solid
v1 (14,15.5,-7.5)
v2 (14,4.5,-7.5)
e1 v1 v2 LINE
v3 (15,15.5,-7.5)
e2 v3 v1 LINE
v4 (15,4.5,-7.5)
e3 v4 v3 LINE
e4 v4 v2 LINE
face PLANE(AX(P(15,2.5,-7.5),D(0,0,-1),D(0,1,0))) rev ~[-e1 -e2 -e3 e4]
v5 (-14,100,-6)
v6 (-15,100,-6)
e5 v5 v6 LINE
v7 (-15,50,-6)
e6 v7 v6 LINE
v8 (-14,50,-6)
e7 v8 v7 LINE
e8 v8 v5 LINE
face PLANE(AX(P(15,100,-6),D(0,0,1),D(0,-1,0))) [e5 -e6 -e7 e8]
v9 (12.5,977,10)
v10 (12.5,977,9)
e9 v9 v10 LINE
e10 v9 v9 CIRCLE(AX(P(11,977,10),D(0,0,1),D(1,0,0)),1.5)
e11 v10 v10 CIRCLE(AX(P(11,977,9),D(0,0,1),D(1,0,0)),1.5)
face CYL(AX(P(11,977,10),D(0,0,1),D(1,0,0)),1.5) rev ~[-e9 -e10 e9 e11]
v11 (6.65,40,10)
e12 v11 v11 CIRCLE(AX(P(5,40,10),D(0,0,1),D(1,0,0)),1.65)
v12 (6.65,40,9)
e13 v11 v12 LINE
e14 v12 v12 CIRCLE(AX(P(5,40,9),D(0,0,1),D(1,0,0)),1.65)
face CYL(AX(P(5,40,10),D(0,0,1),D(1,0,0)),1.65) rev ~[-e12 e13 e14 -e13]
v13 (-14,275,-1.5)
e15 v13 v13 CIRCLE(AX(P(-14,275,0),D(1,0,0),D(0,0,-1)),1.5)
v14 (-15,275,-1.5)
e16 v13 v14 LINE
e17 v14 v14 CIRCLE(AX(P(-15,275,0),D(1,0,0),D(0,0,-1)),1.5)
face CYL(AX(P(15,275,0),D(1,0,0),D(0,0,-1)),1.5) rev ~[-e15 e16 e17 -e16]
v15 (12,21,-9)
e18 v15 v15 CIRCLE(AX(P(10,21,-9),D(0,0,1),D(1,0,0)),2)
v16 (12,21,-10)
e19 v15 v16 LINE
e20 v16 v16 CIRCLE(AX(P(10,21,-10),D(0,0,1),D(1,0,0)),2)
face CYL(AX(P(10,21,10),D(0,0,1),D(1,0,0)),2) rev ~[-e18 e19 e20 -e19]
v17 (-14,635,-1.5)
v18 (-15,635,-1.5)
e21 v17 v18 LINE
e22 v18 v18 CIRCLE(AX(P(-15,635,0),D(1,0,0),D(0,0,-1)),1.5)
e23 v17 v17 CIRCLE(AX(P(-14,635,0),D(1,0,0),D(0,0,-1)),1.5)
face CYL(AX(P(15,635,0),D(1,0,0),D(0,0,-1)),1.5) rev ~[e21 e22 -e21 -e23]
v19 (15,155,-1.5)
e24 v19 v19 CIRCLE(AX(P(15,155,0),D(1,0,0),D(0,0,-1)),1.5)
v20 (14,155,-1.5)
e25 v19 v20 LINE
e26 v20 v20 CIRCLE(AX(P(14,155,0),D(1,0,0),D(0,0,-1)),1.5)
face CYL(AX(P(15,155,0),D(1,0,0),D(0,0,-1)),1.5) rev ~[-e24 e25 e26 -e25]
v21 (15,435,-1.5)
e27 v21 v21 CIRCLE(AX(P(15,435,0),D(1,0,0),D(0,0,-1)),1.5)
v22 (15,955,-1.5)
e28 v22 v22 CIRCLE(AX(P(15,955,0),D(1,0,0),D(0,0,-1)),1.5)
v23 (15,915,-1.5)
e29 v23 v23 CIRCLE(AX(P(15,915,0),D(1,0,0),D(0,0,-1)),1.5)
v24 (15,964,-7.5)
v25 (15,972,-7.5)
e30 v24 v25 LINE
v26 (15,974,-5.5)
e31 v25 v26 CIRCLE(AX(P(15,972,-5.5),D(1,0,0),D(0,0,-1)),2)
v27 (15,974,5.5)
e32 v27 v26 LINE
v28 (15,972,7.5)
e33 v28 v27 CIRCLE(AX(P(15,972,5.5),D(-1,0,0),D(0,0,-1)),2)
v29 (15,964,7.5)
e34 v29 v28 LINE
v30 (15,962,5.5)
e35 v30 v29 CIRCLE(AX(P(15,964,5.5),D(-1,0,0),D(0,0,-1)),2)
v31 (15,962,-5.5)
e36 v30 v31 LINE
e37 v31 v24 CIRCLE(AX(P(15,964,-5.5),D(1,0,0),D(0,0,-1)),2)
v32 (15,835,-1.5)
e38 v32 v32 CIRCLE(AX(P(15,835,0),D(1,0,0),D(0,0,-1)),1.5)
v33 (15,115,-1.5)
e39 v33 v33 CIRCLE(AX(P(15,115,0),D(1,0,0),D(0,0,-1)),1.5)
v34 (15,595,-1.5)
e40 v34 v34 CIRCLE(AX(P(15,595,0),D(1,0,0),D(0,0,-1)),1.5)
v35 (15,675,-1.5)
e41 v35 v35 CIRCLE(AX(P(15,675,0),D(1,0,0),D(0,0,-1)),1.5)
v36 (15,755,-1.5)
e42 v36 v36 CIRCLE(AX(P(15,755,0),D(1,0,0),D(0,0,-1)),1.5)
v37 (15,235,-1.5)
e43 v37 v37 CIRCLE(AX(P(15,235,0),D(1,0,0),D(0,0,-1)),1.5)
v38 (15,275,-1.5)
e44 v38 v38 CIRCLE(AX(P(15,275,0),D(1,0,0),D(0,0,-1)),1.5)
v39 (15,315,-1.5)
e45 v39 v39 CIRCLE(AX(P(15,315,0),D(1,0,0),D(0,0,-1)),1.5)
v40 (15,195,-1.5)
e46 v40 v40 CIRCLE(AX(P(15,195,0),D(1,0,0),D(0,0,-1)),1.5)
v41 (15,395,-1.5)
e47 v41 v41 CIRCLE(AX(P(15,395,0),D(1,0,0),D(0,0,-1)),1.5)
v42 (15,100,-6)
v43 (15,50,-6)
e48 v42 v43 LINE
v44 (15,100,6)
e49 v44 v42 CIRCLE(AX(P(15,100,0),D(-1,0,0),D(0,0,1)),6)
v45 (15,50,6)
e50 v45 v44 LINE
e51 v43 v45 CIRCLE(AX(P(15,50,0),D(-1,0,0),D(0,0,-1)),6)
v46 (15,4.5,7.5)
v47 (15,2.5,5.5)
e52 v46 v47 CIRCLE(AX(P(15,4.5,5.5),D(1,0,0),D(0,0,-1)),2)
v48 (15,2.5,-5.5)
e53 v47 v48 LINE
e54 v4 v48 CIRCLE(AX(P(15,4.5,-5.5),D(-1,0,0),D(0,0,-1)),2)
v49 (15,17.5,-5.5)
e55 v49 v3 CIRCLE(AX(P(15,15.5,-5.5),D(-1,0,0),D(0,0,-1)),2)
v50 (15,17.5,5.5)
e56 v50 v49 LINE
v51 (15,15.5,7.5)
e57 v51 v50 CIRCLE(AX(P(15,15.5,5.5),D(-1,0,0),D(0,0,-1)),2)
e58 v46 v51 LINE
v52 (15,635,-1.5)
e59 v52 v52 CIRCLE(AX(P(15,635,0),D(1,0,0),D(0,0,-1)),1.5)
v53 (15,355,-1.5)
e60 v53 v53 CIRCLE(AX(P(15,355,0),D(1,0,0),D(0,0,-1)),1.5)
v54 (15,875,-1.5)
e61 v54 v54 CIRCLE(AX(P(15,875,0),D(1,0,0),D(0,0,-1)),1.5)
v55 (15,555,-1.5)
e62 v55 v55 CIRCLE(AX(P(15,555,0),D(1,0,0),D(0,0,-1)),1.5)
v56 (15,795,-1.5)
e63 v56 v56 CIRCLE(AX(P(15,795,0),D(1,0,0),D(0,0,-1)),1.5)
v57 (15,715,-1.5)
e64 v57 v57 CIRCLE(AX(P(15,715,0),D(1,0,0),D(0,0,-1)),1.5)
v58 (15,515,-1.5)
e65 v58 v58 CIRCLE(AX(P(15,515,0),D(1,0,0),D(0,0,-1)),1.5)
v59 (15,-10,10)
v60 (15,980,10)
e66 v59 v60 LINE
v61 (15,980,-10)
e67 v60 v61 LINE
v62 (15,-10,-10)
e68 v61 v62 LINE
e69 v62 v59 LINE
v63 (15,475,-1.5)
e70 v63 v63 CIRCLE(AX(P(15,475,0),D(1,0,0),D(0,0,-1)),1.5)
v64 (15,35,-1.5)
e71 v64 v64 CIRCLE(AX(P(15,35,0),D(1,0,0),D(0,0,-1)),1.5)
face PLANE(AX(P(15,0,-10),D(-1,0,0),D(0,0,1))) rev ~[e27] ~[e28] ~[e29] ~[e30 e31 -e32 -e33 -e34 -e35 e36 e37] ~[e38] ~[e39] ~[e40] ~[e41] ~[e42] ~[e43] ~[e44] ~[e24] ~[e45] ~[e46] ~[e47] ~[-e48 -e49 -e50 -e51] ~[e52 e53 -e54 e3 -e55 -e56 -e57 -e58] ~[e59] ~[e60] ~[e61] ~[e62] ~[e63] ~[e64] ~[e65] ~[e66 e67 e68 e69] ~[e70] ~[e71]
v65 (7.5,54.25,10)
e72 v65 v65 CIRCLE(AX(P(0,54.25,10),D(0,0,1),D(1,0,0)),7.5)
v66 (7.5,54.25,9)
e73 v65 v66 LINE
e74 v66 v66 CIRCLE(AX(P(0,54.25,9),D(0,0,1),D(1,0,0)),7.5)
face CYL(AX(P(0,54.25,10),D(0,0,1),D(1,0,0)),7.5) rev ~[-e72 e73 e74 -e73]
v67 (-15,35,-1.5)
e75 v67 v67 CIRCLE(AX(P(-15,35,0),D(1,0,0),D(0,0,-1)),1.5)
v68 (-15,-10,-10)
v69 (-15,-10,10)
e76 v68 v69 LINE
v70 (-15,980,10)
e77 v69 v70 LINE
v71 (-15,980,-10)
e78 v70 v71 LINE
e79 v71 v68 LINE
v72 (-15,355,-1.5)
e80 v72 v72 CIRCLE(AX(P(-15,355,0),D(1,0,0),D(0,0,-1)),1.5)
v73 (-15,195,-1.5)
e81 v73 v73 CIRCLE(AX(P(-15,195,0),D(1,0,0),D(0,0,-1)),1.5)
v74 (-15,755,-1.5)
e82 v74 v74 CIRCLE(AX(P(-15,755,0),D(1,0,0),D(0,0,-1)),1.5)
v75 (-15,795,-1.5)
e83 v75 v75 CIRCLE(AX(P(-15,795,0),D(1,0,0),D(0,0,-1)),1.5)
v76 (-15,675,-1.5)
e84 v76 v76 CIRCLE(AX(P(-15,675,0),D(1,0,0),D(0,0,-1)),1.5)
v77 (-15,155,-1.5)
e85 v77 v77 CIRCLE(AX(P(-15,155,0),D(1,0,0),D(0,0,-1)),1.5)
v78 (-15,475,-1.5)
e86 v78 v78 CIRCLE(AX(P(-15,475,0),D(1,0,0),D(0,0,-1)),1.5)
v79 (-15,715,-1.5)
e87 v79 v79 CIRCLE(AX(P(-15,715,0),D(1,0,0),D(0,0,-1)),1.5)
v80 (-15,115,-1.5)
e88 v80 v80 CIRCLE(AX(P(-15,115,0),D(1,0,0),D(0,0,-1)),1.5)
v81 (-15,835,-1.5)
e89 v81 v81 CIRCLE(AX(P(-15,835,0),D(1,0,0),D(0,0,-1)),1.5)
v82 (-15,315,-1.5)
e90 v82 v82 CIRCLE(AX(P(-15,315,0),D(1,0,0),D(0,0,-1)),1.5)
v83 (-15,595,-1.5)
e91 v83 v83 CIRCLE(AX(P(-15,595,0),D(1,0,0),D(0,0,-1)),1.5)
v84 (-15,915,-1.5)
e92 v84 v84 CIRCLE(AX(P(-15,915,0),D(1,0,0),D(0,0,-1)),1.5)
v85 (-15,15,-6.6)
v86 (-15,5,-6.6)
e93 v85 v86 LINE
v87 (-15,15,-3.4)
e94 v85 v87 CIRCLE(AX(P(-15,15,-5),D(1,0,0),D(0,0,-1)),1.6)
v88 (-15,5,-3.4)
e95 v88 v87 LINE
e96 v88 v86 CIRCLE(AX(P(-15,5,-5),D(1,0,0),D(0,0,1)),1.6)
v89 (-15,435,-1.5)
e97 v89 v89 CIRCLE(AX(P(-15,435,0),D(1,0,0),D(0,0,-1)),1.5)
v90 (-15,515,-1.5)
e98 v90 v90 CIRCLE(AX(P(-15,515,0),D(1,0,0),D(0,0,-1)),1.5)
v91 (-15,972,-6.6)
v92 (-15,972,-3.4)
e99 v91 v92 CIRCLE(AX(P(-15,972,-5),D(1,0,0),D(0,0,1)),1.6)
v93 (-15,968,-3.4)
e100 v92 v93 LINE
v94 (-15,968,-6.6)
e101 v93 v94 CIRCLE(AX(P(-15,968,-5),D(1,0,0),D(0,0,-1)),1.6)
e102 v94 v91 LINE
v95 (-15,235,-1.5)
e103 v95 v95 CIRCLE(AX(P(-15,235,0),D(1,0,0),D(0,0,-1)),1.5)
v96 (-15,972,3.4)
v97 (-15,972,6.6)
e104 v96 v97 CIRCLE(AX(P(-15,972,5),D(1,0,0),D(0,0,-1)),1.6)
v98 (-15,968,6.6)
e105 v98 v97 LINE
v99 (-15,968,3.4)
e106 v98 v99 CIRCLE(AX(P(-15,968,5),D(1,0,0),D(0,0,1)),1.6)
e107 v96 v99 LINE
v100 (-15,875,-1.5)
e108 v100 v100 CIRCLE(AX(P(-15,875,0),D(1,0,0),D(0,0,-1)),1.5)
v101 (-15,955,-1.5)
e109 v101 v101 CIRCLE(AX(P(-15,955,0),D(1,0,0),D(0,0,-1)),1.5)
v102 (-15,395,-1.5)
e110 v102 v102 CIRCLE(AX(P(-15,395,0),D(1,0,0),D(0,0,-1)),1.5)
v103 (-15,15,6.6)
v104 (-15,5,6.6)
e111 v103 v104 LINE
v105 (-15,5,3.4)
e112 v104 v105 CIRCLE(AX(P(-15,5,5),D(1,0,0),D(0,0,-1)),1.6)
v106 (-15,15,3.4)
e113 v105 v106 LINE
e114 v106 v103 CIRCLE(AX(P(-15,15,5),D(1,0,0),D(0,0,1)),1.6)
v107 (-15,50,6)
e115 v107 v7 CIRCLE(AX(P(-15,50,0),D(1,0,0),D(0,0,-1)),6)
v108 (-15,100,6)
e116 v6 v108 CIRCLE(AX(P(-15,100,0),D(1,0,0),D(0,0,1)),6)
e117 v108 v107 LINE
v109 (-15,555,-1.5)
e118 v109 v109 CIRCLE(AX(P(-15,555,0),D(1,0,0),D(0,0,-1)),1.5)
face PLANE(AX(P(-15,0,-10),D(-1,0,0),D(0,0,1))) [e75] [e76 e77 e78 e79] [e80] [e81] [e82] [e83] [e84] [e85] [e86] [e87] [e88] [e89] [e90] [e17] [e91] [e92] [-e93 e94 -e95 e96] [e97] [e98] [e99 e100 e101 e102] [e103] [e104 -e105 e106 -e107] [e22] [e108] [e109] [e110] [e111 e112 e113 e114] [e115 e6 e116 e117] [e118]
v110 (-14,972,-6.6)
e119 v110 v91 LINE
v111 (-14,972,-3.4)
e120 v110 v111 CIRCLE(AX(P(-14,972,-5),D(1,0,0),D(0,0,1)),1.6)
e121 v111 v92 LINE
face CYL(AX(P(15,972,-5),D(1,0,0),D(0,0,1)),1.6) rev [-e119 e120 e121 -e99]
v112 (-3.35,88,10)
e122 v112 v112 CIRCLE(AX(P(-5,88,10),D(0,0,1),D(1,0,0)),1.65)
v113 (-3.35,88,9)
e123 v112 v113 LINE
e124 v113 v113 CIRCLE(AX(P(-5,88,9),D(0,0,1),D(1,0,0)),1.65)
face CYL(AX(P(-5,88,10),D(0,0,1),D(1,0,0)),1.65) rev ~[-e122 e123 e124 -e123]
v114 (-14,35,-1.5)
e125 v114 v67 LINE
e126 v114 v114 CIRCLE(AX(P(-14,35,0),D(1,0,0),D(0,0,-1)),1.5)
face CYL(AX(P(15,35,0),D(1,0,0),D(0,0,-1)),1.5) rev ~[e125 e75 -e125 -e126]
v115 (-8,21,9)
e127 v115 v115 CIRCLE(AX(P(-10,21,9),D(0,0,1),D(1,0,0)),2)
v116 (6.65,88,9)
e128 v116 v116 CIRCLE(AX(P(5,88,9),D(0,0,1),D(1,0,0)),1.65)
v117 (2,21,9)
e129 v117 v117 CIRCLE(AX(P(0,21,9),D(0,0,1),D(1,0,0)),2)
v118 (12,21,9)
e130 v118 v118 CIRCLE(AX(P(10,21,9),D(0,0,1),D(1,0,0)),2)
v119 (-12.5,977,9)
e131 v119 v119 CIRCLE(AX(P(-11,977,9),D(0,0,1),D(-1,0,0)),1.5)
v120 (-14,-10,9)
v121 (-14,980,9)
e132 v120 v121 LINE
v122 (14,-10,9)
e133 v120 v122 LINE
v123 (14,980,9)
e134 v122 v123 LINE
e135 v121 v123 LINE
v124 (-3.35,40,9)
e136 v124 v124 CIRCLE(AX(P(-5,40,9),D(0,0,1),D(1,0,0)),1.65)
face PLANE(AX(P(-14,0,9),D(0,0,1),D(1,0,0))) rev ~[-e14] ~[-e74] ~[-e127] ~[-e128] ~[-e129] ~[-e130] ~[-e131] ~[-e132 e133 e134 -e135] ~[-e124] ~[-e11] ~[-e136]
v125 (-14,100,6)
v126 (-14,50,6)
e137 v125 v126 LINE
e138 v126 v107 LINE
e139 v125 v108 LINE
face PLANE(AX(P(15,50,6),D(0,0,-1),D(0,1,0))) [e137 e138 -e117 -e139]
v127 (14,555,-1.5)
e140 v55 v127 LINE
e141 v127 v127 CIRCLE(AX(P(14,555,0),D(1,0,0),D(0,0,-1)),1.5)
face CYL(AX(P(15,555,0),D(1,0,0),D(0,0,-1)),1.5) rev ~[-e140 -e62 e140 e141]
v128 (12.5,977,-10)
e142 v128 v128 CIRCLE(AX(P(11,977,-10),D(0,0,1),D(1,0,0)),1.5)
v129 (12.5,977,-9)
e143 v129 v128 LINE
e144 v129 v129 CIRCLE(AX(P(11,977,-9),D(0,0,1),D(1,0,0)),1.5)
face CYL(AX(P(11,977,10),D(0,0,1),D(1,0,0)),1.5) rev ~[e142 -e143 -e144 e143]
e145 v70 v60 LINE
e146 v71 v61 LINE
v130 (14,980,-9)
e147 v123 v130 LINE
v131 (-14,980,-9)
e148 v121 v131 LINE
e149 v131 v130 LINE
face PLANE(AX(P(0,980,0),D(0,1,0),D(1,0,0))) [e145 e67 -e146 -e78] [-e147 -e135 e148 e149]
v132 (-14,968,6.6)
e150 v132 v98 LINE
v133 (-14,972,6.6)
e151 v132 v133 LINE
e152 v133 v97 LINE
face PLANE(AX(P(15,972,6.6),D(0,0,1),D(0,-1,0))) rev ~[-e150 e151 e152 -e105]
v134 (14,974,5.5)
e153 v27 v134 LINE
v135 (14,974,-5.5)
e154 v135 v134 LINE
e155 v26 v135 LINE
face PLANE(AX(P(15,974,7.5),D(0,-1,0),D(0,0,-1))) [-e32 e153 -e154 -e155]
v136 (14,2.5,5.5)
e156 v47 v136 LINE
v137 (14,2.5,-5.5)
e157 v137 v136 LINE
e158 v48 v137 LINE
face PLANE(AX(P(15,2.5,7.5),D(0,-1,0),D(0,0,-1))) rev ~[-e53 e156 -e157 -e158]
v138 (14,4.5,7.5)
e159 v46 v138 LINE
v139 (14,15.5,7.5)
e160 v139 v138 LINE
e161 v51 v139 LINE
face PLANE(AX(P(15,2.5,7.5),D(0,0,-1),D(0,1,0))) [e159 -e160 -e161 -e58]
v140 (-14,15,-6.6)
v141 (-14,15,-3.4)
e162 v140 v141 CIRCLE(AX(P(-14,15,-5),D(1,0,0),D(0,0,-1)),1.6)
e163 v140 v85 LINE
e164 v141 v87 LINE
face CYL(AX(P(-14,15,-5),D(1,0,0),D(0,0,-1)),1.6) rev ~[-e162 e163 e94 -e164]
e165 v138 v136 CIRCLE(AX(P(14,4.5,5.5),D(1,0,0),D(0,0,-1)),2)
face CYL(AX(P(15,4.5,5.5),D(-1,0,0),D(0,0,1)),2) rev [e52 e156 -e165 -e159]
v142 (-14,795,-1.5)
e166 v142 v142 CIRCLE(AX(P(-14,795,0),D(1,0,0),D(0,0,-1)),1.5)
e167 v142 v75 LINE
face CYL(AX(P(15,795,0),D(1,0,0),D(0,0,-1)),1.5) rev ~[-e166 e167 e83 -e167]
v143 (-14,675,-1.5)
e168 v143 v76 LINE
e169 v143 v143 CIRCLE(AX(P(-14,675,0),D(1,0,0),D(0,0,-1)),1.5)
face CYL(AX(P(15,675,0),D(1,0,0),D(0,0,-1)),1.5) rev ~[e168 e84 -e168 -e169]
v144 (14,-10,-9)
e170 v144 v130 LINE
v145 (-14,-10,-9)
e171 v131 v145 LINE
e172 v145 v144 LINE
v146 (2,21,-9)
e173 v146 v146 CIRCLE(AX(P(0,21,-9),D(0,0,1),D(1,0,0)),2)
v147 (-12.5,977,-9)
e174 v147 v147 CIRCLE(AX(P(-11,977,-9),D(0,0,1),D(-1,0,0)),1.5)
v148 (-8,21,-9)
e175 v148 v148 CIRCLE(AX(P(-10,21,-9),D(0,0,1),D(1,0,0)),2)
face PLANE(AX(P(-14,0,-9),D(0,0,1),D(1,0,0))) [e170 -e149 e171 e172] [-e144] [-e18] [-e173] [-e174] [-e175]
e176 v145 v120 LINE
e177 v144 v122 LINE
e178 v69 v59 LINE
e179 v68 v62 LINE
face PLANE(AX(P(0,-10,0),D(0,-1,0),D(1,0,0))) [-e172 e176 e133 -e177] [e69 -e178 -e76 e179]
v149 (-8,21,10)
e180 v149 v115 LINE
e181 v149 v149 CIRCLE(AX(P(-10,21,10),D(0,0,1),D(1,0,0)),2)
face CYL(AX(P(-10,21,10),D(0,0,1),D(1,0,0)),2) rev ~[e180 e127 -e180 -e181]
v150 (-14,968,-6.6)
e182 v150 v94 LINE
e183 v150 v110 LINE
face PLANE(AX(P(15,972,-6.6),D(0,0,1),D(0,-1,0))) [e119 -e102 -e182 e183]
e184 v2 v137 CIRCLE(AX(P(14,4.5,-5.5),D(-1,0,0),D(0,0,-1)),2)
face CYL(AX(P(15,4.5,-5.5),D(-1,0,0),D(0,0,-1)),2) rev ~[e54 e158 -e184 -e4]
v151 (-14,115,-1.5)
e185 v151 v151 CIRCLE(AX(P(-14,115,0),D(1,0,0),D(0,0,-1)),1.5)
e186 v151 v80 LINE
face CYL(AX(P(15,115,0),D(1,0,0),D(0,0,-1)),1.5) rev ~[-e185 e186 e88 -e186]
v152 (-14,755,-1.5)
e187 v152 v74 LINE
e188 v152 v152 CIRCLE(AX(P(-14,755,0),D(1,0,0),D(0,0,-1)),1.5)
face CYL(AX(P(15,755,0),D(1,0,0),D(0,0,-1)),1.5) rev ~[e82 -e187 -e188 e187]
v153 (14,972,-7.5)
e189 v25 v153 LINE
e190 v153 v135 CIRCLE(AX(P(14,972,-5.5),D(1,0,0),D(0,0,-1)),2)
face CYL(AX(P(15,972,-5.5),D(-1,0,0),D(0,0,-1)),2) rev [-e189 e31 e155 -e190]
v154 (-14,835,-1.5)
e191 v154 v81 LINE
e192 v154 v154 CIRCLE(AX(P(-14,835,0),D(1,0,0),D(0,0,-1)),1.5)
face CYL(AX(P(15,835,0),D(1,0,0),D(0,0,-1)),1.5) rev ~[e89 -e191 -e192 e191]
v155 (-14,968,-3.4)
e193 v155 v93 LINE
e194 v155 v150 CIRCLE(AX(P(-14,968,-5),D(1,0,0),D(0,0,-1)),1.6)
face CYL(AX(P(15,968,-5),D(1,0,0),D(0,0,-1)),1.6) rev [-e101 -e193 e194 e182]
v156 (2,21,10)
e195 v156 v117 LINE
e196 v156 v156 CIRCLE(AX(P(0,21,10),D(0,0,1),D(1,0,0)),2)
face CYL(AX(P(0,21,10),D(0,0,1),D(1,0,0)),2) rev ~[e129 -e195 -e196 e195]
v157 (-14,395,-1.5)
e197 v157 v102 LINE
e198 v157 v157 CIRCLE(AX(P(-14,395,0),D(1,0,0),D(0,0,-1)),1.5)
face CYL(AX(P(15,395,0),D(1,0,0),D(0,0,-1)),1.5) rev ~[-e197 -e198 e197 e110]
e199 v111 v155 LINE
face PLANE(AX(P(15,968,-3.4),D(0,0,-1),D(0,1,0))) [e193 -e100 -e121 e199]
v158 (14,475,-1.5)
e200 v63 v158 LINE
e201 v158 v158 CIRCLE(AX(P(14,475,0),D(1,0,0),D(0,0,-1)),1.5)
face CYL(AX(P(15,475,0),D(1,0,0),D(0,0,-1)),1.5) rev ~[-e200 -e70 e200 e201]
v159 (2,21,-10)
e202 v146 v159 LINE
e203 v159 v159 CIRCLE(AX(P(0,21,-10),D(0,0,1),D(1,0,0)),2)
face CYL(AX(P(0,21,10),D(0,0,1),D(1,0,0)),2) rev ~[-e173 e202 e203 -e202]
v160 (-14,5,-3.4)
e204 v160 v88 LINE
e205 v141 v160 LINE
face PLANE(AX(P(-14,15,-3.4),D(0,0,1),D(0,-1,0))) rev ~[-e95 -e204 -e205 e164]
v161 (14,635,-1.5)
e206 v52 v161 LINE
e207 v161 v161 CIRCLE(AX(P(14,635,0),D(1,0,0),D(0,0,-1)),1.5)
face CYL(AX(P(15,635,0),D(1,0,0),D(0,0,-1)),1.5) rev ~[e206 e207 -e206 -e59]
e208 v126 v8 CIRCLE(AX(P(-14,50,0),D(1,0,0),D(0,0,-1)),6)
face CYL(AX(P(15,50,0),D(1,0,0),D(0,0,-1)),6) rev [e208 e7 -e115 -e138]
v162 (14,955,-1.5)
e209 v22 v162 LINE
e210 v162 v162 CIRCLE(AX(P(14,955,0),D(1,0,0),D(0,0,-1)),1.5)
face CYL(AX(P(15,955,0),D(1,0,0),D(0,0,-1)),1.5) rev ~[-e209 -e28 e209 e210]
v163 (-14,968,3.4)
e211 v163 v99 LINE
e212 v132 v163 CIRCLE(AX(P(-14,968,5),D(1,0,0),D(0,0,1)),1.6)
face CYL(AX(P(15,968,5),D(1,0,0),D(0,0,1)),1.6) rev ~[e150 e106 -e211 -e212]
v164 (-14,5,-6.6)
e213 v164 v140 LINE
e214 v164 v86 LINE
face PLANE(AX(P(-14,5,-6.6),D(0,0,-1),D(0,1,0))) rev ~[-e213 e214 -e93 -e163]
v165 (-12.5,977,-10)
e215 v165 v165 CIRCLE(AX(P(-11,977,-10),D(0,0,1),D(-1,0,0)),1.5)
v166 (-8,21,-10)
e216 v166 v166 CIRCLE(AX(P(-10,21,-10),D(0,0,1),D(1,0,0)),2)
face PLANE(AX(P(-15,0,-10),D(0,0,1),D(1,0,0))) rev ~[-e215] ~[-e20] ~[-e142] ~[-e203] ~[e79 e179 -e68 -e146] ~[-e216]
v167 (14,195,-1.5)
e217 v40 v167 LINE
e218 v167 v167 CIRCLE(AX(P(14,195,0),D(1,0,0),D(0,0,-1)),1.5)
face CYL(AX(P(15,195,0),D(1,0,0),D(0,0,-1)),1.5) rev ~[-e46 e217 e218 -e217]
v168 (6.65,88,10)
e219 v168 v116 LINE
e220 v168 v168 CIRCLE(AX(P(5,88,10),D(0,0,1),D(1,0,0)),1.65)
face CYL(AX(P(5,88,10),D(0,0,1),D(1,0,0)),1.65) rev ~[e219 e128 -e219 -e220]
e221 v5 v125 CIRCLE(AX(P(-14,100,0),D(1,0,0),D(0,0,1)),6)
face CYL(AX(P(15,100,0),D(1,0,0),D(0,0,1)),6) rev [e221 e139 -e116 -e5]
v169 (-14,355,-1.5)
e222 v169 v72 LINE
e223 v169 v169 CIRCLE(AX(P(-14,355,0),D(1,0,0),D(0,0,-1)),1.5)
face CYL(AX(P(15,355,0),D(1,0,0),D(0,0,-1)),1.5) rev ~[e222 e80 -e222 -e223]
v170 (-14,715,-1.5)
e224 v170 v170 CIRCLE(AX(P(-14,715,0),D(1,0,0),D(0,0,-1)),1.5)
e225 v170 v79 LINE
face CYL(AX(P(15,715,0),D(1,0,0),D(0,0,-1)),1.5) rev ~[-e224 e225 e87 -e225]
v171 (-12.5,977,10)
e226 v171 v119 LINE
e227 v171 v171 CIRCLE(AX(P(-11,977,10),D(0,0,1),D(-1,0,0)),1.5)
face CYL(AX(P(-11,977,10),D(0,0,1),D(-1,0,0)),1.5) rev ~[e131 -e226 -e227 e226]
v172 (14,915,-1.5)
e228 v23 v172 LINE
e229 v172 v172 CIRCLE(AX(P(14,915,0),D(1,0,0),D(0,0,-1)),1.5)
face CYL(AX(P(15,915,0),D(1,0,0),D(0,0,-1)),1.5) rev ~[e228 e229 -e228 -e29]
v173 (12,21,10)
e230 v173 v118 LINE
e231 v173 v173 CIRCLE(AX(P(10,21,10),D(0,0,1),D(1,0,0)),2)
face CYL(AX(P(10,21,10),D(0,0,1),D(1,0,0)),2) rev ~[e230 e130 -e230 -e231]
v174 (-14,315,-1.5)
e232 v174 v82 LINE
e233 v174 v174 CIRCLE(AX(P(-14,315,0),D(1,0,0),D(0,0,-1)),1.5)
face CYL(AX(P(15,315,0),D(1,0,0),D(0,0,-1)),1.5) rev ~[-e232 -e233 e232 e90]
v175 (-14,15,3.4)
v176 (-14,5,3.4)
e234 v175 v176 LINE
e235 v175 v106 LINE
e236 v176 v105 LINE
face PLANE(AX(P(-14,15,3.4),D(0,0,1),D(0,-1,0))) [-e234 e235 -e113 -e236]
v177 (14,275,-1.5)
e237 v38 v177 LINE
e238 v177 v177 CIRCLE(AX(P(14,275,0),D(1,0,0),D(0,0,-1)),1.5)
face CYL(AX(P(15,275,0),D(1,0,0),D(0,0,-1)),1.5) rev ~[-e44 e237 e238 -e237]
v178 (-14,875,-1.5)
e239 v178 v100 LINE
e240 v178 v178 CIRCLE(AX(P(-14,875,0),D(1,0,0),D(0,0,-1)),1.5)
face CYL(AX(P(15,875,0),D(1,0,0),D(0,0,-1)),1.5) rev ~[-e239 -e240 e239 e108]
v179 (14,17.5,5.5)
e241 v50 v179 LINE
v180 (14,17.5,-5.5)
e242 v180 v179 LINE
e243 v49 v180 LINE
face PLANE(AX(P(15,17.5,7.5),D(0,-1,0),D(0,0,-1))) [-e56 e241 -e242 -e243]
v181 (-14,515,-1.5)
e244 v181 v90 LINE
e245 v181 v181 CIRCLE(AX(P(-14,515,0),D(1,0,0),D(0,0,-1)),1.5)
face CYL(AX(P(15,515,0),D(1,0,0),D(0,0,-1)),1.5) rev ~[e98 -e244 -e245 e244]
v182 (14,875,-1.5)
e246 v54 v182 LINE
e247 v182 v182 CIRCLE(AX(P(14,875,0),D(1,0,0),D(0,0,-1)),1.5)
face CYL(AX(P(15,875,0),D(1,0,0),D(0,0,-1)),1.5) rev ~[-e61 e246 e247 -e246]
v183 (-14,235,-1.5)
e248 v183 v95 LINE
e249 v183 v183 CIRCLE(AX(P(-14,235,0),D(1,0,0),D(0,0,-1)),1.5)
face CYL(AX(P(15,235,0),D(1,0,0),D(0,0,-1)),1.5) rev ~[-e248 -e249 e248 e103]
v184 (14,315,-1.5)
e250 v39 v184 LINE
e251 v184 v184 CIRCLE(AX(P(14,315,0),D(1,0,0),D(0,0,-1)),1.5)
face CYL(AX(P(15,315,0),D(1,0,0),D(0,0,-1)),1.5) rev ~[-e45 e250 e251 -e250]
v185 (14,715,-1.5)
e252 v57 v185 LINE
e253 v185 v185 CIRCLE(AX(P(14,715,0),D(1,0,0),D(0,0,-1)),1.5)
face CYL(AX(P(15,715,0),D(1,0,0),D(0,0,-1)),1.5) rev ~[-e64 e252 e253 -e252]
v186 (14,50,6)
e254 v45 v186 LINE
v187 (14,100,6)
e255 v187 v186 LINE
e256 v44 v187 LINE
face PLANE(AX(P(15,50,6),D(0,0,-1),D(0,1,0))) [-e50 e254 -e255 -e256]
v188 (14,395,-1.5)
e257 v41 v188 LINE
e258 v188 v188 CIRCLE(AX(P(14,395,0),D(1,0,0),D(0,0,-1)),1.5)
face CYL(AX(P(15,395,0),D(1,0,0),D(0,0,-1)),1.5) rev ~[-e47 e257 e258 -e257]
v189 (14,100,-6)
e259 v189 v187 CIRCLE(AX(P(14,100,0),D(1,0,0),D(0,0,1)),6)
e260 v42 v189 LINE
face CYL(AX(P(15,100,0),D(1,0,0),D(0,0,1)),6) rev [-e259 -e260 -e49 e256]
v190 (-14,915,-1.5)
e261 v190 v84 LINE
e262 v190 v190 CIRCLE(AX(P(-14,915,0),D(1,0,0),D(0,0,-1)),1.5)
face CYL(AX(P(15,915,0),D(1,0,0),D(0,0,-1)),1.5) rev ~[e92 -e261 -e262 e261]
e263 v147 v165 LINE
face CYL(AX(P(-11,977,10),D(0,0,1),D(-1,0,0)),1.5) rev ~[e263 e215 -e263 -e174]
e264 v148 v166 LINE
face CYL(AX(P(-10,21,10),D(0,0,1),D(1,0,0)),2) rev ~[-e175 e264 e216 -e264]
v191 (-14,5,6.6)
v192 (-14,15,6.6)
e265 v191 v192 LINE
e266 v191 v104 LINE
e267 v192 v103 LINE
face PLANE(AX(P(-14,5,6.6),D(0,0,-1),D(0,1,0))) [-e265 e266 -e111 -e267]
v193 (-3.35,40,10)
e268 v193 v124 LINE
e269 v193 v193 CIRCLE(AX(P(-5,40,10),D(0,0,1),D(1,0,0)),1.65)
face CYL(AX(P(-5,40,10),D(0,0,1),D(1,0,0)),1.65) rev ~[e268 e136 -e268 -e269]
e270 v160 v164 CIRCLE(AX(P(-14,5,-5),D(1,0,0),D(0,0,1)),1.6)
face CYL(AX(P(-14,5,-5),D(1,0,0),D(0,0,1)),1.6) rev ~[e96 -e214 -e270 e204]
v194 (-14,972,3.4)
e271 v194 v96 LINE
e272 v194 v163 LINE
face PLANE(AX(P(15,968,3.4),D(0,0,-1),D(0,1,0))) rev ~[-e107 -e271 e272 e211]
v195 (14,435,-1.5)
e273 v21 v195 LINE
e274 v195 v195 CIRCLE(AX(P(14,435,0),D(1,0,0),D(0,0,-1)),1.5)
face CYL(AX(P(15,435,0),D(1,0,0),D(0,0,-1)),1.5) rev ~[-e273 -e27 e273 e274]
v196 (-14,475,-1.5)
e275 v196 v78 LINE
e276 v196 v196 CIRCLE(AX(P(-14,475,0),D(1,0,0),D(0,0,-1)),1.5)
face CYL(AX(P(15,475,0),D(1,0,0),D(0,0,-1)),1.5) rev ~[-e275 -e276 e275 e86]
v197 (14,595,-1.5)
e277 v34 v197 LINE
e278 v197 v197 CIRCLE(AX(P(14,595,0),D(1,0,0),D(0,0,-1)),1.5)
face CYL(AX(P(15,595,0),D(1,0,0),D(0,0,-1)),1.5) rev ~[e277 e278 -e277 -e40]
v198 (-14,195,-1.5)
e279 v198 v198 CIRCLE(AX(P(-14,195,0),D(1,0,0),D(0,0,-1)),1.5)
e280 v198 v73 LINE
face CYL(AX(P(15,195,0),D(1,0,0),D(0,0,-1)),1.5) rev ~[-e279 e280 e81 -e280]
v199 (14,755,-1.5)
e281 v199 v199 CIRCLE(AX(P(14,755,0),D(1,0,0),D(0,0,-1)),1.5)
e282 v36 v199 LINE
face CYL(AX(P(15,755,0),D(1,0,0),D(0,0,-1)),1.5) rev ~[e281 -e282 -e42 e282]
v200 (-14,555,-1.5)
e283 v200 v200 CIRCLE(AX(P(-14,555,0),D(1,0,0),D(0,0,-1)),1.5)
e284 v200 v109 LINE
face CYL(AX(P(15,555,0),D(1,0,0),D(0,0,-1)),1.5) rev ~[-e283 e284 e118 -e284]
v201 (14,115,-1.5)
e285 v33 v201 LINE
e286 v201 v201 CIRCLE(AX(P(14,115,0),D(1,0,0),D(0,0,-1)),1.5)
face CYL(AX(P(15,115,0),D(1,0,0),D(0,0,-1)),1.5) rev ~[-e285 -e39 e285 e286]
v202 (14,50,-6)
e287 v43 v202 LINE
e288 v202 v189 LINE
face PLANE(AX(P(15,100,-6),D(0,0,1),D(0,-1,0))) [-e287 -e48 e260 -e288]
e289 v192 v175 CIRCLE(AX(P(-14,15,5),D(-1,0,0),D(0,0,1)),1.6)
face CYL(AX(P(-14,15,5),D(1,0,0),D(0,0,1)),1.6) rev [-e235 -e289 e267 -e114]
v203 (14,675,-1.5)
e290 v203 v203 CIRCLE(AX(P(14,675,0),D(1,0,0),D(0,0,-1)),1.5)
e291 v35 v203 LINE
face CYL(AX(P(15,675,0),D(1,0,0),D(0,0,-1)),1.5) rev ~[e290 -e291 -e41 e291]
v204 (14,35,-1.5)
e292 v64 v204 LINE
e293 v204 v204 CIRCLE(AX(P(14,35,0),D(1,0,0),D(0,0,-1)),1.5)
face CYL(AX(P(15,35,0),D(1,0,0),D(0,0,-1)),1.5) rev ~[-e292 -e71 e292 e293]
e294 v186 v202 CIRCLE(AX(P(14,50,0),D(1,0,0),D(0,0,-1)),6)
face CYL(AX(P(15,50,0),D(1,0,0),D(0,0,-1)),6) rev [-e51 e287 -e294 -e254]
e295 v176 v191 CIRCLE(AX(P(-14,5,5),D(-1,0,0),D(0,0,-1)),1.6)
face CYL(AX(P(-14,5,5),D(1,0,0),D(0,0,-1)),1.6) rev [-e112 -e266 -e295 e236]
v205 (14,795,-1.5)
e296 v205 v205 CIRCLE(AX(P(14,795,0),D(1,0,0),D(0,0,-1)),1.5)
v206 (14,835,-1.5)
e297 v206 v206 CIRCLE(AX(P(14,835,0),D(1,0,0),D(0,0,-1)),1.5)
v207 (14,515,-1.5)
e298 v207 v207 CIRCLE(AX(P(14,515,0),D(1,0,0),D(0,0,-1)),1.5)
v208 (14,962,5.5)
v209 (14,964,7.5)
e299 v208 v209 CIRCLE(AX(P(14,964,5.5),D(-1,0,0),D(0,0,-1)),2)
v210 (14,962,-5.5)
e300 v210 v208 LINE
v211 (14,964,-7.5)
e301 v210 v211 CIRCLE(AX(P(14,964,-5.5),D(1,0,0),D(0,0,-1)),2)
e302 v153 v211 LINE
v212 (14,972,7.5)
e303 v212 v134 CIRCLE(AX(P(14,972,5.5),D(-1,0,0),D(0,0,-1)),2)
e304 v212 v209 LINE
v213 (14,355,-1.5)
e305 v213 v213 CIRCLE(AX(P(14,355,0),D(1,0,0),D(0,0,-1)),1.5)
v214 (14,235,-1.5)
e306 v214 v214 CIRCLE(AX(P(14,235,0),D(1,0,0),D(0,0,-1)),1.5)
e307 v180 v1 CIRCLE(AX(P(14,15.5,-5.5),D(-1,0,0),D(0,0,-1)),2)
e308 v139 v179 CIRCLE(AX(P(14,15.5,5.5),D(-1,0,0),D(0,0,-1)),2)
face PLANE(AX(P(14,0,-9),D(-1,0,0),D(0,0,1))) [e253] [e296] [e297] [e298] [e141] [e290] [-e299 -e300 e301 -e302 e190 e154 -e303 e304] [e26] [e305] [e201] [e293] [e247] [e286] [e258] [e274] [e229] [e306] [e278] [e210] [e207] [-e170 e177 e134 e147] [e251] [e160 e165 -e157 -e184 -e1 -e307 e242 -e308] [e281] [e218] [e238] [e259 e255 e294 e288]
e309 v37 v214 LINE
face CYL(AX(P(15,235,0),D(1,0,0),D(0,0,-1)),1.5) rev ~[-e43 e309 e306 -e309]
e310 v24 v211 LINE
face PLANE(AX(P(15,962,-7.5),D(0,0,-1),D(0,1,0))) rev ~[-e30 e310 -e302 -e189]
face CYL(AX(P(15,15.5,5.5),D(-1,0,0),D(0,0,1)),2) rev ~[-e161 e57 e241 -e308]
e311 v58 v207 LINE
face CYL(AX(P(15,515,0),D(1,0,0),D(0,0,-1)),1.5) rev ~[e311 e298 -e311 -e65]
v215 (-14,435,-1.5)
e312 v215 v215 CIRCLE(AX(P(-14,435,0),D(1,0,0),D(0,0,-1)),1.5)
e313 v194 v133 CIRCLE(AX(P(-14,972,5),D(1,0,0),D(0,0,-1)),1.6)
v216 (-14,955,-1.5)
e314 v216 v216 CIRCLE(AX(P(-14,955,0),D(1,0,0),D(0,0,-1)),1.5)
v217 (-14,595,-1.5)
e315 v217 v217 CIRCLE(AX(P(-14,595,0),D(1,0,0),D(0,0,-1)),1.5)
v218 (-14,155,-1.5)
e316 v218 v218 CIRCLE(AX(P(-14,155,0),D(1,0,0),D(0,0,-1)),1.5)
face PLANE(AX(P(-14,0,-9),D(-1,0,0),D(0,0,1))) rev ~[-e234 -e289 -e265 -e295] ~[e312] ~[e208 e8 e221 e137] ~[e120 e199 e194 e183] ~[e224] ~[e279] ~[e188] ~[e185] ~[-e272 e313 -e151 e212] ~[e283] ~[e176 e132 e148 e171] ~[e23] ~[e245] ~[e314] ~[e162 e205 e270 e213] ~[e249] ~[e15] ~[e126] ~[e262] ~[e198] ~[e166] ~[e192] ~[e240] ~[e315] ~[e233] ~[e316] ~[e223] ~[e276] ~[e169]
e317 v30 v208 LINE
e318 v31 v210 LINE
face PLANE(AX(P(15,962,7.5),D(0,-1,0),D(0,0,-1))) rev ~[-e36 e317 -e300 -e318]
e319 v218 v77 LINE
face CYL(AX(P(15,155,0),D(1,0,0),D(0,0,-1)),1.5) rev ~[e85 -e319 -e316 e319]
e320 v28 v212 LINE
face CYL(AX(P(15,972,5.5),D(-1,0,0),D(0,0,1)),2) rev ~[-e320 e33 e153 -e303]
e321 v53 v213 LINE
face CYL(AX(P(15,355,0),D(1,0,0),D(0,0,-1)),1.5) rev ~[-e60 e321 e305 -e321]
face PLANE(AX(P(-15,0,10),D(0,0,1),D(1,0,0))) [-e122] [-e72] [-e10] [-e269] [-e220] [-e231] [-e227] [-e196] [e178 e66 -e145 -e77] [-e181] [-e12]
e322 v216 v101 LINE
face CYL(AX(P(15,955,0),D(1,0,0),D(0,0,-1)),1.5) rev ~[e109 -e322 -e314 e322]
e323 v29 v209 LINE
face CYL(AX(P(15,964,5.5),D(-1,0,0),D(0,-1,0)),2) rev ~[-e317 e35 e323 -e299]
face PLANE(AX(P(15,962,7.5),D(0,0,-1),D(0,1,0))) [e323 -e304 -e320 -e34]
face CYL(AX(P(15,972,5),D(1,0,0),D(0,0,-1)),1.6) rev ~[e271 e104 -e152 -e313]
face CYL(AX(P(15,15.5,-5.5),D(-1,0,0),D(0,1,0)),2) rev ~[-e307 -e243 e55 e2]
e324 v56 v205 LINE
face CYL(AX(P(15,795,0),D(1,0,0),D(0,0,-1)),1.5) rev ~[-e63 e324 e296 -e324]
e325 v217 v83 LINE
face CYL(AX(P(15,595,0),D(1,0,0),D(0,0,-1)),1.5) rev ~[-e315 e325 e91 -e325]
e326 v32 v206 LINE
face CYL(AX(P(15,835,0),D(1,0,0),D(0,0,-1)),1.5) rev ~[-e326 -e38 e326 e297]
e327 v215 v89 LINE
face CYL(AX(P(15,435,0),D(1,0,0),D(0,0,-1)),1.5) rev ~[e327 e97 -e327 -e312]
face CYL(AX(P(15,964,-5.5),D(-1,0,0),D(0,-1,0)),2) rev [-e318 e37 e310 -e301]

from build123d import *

# Parameters (mm, degrees)
SKETCH_1_W           = 30
SKETCH_1_H           = 20
SKETCH_1_W_2         = 28
SKETCH_1_H_2         = 18
EXTRUDE_1_DEPTH      = 980
CUT_EXTRUDE_3_DEPTH  = 981.51007134
SKETCH_5_W           = 15
SKETCH_5_H           = 12
CUT_EXTRUDE_4_DEPTH  = 10
SKETCH_9_R           = 1.5
CUT_EXTRUDE_7_DEPTH  = 981.318825689
SKETCH_13_W          = 30
SKETCH_13_H          = 20
SKETCH_13_W_2        = 28
SKETCH_13_H_2        = 18
EXTRUDE_2_DEPTH      = 10
CUT_EXTRUDE_8_DEPTH  = 60
SKETCH_15_W          = 15
SKETCH_15_H          = 15
CUT_EXTRUDE_10_DEPTH = 5
FILLET_1_R           = 2
SKETCH_16_R          = 2
CUT_EXTRUDE_11_DEPTH = 90
FILLET_2_R           = 2
SKETCH_17_R          = 1.5
CUT_EXTRUDE_12_DEPTH = 40
CUT_EXTRUDE_15_DEPTH = 51
SKETCH_21_W          = 22.187259215
SKETCH_21_H          = 65.33837704
EXTRUDE_3_DEPTH      = 1
SKETCH_22_R          = 1.65
CUT_EXTRUDE_16_DEPTH = 1
SKETCH_23_R          = 7.5
CUT_EXTRUDE_17_DEPTH = 10


with BuildPart() as part:
    # 草图1 → 凸台-拉伸1 (new body)
    with BuildSketch(Plane(origin=(0, 0, 0), x_dir=(1, 0, 0), z_dir=(0, 1, 0))):
        Rectangle(SKETCH_1_W, SKETCH_1_H)
        Rectangle(SKETCH_1_W_2, SKETCH_1_H_2, mode=Mode.SUBTRACT)
    extrude(amount=EXTRUDE_1_DEPTH)

    # 草图4 → 切除-拉伸3 (cut, through all)
    with BuildSketch(Plane(origin=(15, 0, 0), x_dir=(0, 0, -1), z_dir=(1, 0, 0))):
        with BuildLine():
            Line((3.4, 968), (3.4, 972))
            ThreePointArc((3.4, 972), (5, 973.6), (6.6, 972))
            Line((6.6, 972), (6.6, 968))
            ThreePointArc((6.6, 968), (5, 966.4), (3.4, 968))
        make_face()
        with BuildLine():
            Line((-3.4, 968), (-3.4, 972))
            ThreePointArc((-3.4, 972), (-5, 973.6), (-6.6, 972))
            Line((-6.6, 972), (-6.6, 968))
            ThreePointArc((-6.6, 968), (-5, 966.4), (-3.4, 968))
        make_face()
    extrude(amount=-CUT_EXTRUDE_3_DEPTH, mode=Mode.SUBTRACT)

    # 草图5 → 切除-拉伸4 (cut)
    with BuildSketch(Plane(origin=(15, 0, 0), x_dir=(0, 0, -1), z_dir=(1, 0, 0))):
        with Locations((0, 968)):
            Rectangle(SKETCH_5_W, SKETCH_5_H)
    extrude(amount=-CUT_EXTRUDE_4_DEPTH, mode=Mode.SUBTRACT)

    # 草图9 → 切除-拉伸7 (cut, through all)
    with BuildSketch(Plane.XY.offset(10)):
        with Locations((11, 977)):
            Circle(SKETCH_9_R)
        with Locations((-11, 977)):
            Circle(SKETCH_9_R)
    extrude(amount=-CUT_EXTRUDE_7_DEPTH, mode=Mode.SUBTRACT)

    # 草图13 → 凸台-拉伸2 (add)
    with BuildSketch(Plane.XZ):
        Rectangle(SKETCH_13_W, SKETCH_13_H)
        Rectangle(SKETCH_13_W_2, SKETCH_13_H_2, mode=Mode.SUBTRACT)
    extrude(amount=EXTRUDE_2_DEPTH)

    # 草图11 → 切除-拉伸8 (cut)
    with BuildSketch(Plane(origin=(-14, 0, 0), x_dir=(0, 0, -1), z_dir=(1, 0, 0))):
        with BuildLine():
            Line((-6.6, 5), (-6.6, 15))
            ThreePointArc((-6.6, 15), (-5, 16.6), (-3.4, 15))
            Line((-3.4, 15), (-3.4, 5))
            ThreePointArc((-3.4, 5), (-5, 3.4), (-6.6, 5))
        make_face()
        with BuildLine():
            Line((6.6, 5), (6.6, 15))
            ThreePointArc((6.6, 15), (5, 16.6), (3.4, 15))
            Line((3.4, 15), (3.4, 5))
            ThreePointArc((3.4, 5), (5, 3.4), (6.6, 5))
        make_face()
    extrude(amount=-CUT_EXTRUDE_8_DEPTH, mode=Mode.SUBTRACT)

    # 草图15 → 切除-拉伸10 (cut)
    with BuildSketch(Plane(origin=(15, 0, 0), x_dir=(0, 0, -1), z_dir=(1, 0, 0))):
        with Locations((0, 10)):
            Rectangle(SKETCH_15_W, SKETCH_15_H)
    extrude(amount=-CUT_EXTRUDE_10_DEPTH, mode=Mode.SUBTRACT)

    # 圆角1
    fillet_1_edges = [part.edges().sort_by_distance(p)[0] for p in [
        (14.5, 2.5, -7.5),
        (14.5, 2.5, 7.5),
        (14.5, 17.5, -7.5),
        (14.5, 17.5, 7.5),
    ]]
    fillet(fillet_1_edges, radius=FILLET_1_R)

    # 草图16 → 切除-拉伸11 (cut)
    with BuildSketch(Plane.XY.offset(10)):
        with Locations((10, 21)):
            Circle(SKETCH_16_R)
        with Locations((0, 21)):
            Circle(SKETCH_16_R)
        with Locations((-10, 21)):
            Circle(SKETCH_16_R)
    extrude(amount=-CUT_EXTRUDE_11_DEPTH, mode=Mode.SUBTRACT)

    # 圆角2
    fillet_2_edges = [part.edges().sort_by_distance(p)[0] for p in [
        (14.5, 962, -7.5),
        (14.5, 962, 7.5),
        (14.5, 974, 7.5),
        (14.5, 974, -7.5),
    ]]
    fillet(fillet_2_edges, radius=FILLET_2_R)

    # 草图17 → 切除-拉伸12 (cut)
    with BuildSketch(Plane(origin=(15, 0, 0), x_dir=(0, 0, -1), z_dir=(1, 0, 0))):
        with Locations((0, 955)):
            Circle(SKETCH_17_R)
        with Locations((0, 915)):
            Circle(SKETCH_17_R)
        with Locations((0, 875)):
            Circle(SKETCH_17_R)
        with Locations((0, 835)):
            Circle(SKETCH_17_R)
        with Locations((0, 795)):
            Circle(SKETCH_17_R)
        with Locations((0, 755)):
            Circle(SKETCH_17_R)
        with Locations((0, 715)):
            Circle(SKETCH_17_R)
        with Locations((0, 675)):
            Circle(SKETCH_17_R)
        with Locations((0, 635)):
            Circle(SKETCH_17_R)
        with Locations((0, 595)):
            Circle(SKETCH_17_R)
        with Locations((0, 555)):
            Circle(SKETCH_17_R)
        with Locations((0, 515)):
            Circle(SKETCH_17_R)
        with Locations((0, 475)):
            Circle(SKETCH_17_R)
        with Locations((0, 435)):
            Circle(SKETCH_17_R)
        with Locations((0, 395)):
            Circle(SKETCH_17_R)
        with Locations((0, 355)):
            Circle(SKETCH_17_R)
        with Locations((0, 315)):
            Circle(SKETCH_17_R)
        with Locations((0, 275)):
            Circle(SKETCH_17_R)
        with Locations((0, 235)):
            Circle(SKETCH_17_R)
        with Locations((0, 195)):
            Circle(SKETCH_17_R)
        with Locations((0, 155)):
            Circle(SKETCH_17_R)
        with Locations((0, 115)):
            Circle(SKETCH_17_R)
        with Locations((0, 75)):
            Circle(SKETCH_17_R)
        with Locations((0, 35)):
            Circle(SKETCH_17_R)
    extrude(amount=-CUT_EXTRUDE_12_DEPTH, mode=Mode.SUBTRACT)

    # 草图20 → 切除-拉伸15 (cut)
    with BuildSketch(Plane(origin=(15, 0, 0), x_dir=(0, 0, -1), z_dir=(1, 0, 0))):
        with BuildLine():
            Line((-6, 50), (-6, 100))
            ThreePointArc((-6, 100), (0, 106), (6, 100))
            Line((6, 100), (6, 50))
            ThreePointArc((6, 50), (0, 44), (-6, 50))
        make_face()
    extrude(amount=-CUT_EXTRUDE_15_DEPTH, mode=Mode.SUBTRACT)

    # 草图21 → 凸台-拉伸3 (add)
    with BuildSketch(Plane.XY.offset(10)):
        with Locations((-0.689634309, 76.201822832)):
            Rectangle(SKETCH_21_W, SKETCH_21_H)
    extrude(amount=-EXTRUDE_3_DEPTH)

    # 草图22 → 切除-拉伸16 (cut)
    with BuildSketch(Plane.XY.offset(10)):
        with Locations((5, 40)):
            Circle(SKETCH_22_R)
        with Locations((-5, 40)):
            Circle(SKETCH_22_R)
        with Locations((5, 88)):
            Circle(SKETCH_22_R)
        with Locations((-5, 88)):
            Circle(SKETCH_22_R)
    extrude(amount=-CUT_EXTRUDE_16_DEPTH, mode=Mode.SUBTRACT)

    # 草图23 → 切除-拉伸17 (cut)
    with BuildSketch(Plane.XY.offset(10)):
        with Locations((0, 54.25)):
            Circle(SKETCH_23_R)
    extrude(amount=-CUT_EXTRUDE_17_DEPTH, mode=Mode.SUBTRACT)


solid = part.part
